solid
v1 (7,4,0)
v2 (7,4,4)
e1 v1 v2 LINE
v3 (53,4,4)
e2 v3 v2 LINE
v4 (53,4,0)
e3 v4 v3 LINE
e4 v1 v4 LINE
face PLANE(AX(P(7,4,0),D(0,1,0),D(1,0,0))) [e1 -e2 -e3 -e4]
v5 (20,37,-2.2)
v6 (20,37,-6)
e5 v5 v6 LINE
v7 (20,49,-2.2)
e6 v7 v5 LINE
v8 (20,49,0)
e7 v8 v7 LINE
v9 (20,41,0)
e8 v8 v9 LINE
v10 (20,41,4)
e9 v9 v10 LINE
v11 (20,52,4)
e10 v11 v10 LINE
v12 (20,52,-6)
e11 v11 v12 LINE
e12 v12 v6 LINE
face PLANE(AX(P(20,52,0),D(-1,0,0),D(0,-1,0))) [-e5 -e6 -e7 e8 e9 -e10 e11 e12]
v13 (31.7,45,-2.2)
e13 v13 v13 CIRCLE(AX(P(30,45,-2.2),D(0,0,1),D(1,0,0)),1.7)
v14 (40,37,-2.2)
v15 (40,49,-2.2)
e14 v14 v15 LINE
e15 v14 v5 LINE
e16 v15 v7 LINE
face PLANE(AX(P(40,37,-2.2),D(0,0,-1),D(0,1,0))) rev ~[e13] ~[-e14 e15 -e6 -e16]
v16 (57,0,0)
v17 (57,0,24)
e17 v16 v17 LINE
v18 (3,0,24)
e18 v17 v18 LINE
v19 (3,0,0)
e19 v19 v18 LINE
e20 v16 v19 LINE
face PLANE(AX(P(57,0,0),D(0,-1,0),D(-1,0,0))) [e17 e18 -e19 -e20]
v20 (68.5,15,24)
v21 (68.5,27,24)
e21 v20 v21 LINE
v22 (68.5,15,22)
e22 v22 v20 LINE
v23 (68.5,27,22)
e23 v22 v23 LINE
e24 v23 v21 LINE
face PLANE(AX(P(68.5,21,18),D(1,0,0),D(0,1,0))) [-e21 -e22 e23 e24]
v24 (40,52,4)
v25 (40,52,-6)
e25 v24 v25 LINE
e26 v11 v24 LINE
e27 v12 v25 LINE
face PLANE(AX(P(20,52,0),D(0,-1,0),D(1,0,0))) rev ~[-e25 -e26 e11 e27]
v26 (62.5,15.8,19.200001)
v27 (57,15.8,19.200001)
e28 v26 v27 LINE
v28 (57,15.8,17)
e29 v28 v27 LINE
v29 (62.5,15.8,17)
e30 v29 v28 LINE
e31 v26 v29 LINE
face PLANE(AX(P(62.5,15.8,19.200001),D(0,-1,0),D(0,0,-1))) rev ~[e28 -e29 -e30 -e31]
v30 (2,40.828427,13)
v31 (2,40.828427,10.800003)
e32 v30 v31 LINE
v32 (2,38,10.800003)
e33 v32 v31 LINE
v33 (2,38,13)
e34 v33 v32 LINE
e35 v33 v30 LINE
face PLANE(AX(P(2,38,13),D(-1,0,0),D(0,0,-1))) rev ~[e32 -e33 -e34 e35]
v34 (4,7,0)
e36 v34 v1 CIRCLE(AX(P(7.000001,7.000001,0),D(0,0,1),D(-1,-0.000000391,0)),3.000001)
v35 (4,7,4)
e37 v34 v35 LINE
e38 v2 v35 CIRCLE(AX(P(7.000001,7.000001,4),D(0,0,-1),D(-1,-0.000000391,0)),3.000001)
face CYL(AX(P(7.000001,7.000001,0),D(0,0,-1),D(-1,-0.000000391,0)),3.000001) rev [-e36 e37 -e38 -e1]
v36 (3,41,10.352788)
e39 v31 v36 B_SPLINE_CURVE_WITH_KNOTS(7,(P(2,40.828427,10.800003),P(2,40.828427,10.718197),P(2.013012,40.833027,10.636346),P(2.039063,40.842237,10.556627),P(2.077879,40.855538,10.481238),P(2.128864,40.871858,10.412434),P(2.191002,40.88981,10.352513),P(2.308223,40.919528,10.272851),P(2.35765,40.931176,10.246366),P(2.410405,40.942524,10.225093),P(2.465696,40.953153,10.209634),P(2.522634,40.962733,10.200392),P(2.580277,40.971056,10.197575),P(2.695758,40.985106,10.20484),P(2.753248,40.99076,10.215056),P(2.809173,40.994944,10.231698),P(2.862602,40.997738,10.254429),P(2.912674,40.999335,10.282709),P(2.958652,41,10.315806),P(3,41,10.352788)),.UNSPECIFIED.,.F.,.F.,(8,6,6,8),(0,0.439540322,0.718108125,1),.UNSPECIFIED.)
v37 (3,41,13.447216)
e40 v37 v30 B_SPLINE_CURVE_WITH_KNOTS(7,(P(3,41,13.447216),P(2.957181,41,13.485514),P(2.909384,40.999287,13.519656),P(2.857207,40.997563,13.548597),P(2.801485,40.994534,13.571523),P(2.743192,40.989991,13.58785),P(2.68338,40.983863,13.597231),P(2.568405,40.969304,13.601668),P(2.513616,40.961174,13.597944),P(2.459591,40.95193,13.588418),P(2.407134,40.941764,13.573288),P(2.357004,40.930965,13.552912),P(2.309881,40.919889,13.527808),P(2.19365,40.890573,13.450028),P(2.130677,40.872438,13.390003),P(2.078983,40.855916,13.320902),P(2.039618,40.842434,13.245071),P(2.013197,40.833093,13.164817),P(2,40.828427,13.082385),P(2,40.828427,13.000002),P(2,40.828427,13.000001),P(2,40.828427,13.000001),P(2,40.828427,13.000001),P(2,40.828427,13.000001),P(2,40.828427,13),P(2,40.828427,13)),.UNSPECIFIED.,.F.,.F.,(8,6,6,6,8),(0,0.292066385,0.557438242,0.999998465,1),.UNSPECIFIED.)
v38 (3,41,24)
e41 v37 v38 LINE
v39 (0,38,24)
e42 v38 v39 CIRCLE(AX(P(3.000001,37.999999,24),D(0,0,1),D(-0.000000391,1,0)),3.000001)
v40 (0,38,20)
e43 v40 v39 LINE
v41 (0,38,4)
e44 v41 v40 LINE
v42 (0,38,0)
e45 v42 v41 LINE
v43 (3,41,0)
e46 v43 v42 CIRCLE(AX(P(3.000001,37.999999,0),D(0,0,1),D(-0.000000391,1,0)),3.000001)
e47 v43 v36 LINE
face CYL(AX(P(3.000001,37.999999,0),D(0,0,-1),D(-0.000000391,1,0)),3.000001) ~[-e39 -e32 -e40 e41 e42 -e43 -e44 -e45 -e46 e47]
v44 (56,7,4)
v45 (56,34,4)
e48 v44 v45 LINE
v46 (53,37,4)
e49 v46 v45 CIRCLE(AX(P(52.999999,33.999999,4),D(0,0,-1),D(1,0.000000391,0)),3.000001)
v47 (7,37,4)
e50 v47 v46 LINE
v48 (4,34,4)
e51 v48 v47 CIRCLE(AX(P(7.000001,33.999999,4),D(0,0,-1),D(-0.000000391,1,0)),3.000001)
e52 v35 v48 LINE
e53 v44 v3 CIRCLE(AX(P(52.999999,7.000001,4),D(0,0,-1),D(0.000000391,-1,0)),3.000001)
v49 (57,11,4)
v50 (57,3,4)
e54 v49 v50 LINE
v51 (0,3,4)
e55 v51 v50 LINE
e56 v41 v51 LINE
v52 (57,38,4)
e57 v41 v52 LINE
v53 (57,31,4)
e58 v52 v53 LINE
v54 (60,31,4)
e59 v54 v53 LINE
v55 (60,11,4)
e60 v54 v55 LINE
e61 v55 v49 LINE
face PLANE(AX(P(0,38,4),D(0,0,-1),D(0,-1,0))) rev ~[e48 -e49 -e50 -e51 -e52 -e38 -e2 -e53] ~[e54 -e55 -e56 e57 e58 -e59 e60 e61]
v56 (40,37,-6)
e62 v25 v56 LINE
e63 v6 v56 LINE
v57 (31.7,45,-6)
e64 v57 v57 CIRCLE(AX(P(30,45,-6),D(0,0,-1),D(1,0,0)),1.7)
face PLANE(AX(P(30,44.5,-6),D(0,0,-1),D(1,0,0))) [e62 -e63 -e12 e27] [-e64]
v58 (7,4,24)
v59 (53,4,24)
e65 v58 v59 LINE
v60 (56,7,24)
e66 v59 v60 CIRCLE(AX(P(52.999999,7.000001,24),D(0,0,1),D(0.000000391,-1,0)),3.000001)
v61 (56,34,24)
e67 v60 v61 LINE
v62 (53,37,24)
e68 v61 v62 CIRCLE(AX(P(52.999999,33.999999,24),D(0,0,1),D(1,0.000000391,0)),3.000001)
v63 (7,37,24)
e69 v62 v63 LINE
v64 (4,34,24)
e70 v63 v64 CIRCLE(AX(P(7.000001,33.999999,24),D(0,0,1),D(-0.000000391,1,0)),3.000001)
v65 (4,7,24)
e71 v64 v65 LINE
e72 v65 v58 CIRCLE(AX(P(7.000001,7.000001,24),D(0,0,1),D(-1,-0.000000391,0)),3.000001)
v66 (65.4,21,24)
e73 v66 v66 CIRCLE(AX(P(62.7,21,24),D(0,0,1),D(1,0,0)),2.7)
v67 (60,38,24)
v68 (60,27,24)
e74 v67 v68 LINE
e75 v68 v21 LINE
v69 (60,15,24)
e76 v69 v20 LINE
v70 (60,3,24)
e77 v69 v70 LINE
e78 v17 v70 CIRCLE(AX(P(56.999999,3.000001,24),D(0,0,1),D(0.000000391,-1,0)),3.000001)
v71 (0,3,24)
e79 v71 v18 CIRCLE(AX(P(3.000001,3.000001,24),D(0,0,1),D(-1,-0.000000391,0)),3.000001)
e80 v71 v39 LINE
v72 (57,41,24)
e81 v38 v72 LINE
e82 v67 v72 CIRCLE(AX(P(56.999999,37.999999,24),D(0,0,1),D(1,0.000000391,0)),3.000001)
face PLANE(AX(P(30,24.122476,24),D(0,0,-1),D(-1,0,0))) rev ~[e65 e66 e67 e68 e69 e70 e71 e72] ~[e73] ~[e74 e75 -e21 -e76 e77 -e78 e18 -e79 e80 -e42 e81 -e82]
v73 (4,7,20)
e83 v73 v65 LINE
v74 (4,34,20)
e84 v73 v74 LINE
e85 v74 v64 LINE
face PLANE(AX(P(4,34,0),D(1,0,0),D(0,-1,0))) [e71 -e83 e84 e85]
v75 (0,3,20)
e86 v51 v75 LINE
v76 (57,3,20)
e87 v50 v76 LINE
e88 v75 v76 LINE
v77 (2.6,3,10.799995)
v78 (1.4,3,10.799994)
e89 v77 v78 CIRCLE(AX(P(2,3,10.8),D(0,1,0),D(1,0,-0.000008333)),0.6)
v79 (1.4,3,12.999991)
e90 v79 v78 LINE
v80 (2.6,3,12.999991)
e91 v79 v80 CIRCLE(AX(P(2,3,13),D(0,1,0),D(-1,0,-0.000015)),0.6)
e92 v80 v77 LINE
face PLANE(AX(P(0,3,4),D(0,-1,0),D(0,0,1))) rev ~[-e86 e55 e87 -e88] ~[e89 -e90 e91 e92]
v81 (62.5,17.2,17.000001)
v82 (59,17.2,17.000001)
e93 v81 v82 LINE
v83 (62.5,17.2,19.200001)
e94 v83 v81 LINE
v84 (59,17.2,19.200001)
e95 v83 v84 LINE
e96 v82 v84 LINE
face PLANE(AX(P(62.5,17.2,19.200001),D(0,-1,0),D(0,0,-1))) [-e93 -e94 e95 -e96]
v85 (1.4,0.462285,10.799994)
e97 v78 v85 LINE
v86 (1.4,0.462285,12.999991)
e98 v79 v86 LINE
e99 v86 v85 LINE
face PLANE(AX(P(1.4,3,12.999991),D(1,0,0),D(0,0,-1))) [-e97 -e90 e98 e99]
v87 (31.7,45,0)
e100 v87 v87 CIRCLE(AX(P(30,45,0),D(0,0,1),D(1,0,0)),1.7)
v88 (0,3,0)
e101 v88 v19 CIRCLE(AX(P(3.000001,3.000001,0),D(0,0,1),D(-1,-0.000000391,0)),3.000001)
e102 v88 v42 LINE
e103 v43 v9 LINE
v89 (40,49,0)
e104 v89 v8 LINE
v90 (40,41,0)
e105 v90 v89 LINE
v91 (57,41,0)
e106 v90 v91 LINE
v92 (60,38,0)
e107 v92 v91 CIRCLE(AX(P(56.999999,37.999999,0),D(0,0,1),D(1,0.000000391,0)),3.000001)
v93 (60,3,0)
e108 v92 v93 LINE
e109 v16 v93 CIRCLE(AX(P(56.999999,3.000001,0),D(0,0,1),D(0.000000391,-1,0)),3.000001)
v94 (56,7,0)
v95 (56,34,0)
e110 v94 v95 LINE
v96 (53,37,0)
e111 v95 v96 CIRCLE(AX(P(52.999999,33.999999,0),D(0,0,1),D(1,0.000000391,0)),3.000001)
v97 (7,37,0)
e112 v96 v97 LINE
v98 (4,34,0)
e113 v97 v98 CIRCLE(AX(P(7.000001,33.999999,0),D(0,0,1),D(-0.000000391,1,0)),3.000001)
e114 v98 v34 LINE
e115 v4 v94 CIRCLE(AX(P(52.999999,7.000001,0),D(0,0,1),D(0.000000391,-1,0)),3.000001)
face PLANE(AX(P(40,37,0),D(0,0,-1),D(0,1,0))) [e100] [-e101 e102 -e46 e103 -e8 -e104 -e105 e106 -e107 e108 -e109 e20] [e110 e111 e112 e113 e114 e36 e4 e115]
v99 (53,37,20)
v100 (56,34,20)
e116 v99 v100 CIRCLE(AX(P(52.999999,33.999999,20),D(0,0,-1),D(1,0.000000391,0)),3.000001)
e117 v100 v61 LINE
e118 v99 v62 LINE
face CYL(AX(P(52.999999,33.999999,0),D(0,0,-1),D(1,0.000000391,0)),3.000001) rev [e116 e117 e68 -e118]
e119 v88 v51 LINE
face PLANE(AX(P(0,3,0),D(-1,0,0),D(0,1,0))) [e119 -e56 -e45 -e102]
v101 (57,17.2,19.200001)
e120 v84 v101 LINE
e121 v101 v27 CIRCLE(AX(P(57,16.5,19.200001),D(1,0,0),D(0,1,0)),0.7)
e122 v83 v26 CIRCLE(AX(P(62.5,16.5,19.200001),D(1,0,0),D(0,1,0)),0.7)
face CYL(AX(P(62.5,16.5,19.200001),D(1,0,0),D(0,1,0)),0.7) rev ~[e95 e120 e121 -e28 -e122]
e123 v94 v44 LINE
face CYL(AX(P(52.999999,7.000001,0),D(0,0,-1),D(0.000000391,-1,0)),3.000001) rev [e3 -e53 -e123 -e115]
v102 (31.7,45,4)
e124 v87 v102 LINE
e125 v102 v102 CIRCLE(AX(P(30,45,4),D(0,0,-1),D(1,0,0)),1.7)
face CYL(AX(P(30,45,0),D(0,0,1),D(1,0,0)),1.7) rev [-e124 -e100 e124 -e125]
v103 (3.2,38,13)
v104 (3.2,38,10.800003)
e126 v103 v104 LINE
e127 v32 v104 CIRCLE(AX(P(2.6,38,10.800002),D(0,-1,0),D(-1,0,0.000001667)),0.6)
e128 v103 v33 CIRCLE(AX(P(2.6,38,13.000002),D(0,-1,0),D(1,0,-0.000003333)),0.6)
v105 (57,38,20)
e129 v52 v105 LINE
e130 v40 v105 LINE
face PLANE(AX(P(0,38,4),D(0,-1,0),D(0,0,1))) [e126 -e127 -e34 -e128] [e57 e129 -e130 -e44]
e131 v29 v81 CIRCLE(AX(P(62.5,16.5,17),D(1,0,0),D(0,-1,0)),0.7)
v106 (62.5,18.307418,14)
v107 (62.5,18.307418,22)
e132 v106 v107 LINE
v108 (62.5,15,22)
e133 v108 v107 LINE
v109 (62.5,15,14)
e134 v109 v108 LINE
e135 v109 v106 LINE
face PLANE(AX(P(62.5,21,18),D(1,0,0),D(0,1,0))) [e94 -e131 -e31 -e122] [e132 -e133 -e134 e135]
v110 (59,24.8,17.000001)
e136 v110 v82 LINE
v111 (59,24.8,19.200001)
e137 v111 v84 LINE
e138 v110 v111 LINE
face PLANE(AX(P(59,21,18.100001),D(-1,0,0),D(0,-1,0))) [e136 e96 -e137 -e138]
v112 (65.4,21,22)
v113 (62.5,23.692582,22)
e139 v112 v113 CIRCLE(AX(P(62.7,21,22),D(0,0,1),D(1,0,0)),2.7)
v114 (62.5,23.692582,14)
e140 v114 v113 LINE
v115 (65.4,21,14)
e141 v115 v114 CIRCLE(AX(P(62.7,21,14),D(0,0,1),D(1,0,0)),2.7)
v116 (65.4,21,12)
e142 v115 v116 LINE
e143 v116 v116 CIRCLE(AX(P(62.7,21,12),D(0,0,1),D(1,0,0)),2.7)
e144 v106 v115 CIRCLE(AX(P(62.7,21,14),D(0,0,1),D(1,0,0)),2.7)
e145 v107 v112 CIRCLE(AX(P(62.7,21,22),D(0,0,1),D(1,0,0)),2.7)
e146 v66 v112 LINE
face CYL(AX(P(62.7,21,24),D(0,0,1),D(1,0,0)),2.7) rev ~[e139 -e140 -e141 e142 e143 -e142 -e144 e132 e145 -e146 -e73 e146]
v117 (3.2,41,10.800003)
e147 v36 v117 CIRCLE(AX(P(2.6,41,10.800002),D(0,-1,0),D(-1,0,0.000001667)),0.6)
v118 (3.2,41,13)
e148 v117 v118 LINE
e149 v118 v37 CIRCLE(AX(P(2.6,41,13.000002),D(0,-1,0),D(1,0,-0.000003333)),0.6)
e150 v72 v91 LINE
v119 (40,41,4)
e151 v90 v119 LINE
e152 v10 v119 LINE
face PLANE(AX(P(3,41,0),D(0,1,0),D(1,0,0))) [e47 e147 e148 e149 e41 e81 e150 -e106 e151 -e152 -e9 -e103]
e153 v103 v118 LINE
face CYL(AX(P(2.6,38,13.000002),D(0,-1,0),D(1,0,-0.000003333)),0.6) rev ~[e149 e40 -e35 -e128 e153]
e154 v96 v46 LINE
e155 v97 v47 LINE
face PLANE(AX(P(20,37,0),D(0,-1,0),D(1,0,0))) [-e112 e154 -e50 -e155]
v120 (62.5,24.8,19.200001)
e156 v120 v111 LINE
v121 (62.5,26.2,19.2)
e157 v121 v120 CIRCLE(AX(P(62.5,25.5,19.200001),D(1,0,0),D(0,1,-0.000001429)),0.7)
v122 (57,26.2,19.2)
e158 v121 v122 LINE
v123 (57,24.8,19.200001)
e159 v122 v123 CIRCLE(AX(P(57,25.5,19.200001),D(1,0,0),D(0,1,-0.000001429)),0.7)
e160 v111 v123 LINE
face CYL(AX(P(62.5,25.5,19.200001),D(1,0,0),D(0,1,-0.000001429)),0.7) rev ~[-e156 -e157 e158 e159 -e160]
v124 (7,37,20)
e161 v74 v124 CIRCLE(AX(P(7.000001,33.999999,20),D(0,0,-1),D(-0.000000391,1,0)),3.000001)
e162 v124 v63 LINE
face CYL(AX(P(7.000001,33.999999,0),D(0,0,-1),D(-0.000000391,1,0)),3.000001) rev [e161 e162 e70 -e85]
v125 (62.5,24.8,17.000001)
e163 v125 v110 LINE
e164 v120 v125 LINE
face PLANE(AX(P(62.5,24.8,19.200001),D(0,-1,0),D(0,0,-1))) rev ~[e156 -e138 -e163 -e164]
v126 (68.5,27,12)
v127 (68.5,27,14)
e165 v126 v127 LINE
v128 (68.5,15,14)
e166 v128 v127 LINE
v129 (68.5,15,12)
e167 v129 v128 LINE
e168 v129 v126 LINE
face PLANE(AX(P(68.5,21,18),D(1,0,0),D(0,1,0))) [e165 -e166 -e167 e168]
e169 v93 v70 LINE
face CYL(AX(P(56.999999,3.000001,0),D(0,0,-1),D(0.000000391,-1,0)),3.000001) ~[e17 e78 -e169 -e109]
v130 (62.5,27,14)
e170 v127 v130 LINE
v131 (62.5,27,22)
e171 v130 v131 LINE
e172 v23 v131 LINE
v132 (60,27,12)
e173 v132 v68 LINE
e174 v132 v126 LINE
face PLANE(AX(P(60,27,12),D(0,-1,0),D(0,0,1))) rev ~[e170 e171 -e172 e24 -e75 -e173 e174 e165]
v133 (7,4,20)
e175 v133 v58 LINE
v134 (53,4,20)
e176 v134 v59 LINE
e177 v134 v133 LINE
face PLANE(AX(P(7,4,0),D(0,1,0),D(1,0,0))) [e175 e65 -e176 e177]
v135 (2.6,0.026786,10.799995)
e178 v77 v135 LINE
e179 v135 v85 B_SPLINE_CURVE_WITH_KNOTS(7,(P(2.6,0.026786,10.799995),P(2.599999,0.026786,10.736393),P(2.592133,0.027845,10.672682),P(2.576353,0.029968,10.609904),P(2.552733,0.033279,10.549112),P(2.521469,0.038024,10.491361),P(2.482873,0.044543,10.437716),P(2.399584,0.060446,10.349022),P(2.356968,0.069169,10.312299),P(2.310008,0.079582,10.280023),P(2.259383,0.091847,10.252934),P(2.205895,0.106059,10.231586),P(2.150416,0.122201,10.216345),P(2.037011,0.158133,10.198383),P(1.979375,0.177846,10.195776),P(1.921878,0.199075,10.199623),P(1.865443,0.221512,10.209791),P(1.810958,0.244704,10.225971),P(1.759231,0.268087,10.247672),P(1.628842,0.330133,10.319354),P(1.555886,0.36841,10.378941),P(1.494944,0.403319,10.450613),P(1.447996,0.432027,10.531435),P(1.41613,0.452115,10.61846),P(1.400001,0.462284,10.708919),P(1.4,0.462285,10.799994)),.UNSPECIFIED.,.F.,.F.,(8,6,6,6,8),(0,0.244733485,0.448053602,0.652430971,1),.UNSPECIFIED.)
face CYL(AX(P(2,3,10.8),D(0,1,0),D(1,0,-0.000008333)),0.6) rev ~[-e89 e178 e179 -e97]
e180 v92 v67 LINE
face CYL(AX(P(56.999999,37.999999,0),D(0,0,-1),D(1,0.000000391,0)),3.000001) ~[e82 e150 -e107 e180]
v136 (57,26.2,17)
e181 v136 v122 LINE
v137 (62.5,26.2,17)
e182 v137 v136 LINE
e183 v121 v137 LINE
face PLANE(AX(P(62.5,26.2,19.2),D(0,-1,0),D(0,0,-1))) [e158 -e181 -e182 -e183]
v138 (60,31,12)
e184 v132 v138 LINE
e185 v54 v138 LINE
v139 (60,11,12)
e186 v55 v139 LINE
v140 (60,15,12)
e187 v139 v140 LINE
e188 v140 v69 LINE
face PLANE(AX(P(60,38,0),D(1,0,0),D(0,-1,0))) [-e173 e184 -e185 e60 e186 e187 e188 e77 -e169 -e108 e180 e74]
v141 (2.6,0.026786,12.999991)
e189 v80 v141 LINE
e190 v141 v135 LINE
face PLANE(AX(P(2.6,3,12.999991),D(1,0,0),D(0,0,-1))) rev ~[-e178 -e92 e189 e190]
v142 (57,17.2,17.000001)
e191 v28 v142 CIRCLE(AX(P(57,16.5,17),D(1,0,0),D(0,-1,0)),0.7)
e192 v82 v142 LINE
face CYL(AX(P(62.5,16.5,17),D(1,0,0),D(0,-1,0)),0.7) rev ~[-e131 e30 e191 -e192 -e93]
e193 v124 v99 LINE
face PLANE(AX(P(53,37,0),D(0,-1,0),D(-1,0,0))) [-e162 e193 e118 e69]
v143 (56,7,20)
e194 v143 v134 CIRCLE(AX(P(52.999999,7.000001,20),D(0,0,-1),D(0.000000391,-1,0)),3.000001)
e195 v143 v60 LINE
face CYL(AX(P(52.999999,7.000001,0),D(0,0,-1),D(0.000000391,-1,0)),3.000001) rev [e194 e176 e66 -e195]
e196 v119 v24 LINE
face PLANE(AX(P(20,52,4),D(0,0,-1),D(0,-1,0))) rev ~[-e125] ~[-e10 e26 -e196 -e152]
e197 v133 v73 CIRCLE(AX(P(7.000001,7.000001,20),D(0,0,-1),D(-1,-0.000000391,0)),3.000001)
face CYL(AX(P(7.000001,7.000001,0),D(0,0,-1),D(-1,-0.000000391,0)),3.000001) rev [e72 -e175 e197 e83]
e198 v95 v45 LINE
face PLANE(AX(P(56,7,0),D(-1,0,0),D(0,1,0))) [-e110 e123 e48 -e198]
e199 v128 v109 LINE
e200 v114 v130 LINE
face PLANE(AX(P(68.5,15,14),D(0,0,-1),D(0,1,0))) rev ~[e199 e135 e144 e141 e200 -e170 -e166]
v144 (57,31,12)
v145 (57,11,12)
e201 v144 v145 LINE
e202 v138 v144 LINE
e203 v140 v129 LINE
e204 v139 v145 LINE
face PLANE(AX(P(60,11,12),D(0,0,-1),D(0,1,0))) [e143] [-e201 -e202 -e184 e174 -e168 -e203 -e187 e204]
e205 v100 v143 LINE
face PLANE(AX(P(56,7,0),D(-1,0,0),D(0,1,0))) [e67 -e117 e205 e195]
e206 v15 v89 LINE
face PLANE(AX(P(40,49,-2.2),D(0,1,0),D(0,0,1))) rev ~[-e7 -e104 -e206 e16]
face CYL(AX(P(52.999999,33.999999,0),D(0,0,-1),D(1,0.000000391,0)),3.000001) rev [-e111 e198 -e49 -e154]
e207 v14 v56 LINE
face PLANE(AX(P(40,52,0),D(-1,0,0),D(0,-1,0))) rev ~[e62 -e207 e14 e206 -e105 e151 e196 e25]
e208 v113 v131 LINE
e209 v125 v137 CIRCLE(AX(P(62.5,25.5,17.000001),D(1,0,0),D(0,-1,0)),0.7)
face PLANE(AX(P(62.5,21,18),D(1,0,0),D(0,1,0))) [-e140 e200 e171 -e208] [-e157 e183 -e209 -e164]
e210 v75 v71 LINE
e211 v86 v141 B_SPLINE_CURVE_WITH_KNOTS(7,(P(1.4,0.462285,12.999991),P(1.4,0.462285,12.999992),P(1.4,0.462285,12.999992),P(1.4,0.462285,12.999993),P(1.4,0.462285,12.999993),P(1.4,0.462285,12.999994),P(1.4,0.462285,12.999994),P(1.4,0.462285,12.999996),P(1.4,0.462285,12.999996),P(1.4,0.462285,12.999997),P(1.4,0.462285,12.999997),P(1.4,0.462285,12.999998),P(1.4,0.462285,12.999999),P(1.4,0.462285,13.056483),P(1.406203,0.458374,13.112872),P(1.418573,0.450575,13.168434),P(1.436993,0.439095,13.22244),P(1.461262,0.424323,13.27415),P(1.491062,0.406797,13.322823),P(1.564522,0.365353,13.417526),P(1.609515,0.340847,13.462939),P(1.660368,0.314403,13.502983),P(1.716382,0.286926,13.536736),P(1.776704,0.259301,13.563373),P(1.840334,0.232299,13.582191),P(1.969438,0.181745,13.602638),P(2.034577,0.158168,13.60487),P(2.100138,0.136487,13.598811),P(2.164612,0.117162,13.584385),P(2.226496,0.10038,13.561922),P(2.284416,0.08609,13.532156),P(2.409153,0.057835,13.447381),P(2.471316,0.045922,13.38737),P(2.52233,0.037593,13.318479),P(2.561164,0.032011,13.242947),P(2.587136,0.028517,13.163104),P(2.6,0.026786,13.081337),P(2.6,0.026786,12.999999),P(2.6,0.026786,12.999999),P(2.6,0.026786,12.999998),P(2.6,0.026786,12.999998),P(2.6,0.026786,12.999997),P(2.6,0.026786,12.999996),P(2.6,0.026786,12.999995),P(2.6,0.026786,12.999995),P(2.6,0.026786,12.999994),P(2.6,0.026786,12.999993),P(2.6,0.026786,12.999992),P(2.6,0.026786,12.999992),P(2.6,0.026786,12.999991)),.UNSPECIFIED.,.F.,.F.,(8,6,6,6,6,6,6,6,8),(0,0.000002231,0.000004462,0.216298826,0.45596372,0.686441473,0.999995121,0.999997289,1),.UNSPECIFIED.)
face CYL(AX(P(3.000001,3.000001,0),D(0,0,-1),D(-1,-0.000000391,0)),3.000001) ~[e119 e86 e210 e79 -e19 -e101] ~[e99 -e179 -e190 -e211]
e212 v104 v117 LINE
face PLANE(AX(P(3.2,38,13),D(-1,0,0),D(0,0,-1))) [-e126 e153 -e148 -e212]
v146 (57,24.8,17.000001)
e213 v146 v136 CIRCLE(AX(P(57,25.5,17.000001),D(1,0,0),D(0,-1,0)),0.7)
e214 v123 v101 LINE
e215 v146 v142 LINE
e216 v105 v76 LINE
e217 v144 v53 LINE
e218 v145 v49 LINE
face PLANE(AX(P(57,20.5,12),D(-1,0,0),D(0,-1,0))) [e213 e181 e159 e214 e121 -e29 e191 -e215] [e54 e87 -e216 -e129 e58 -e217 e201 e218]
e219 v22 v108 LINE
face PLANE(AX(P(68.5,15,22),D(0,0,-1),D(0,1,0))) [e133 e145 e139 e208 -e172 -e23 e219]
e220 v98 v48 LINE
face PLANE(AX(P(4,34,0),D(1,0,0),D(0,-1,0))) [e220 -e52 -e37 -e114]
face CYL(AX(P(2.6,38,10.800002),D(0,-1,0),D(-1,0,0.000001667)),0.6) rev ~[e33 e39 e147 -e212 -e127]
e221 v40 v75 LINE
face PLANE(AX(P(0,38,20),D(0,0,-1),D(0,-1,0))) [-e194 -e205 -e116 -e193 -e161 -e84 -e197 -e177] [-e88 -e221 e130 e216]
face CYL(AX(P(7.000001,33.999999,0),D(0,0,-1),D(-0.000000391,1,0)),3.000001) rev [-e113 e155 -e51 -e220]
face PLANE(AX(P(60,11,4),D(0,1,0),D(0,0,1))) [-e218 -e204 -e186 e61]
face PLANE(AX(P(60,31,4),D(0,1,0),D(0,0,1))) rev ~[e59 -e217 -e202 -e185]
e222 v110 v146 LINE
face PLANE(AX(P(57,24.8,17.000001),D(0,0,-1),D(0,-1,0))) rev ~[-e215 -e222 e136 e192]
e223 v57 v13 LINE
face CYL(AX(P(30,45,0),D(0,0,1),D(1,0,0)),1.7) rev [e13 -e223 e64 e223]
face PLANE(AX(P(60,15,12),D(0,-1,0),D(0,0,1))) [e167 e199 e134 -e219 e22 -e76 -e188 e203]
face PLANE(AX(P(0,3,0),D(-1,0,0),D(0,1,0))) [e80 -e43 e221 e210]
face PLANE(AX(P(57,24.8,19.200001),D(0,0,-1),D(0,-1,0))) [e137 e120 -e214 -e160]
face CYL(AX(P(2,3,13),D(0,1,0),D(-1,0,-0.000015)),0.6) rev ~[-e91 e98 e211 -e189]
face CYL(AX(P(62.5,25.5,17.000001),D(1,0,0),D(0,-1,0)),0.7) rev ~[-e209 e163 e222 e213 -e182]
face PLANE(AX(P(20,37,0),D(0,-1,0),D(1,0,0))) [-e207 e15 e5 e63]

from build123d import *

# Parameters (mm, degrees)
SKETCH_R        = 1.7
PAD_DEPTH       = 24
SKETCH001_W     = 35
SKETCH001_H     = 16
POCKET_DEPTH    = 57
SKETCH002_W     = 20
SKETCH002_H     = 8
POCKET001_DEPTH = 5
SKETCH003_W     = 11
SKETCH003_H     = 20
POCKET002_DEPTH = 40.001
SKETCH004_W     = 20
SKETCH004_H     = 15
SKETCH004_R     = 1.7
PAD001_DEPTH    = 6
SKETCH005_W     = 12
SKETCH005_H     = 2.2
POCKET003_DEPTH = 40.001
SKETCH006_W     = 12
SKETCH006_H     = 12
PAD002_DEPTH    = 8.5
SKETCH007_R     = 2.7
POCKET004_DEPTH = 30.001
SKETCH008_W     = 12
SKETCH008_H     = 8
POCKET005_DEPTH = 6
POCKET006_DEPTH = 10
SKETCH010_W     = 7.6
SKETCH010_H     = 2.2
POCKET007_DEPTH = 2
POCKET008_DEPTH = 3.001
POCKET009_DEPTH = 5


with BuildPart() as part:
    # Sketch → Pad (new body)
    with BuildSketch(Plane.XY):
        with BuildLine():
            Line((3, 41), (20, 41))
            Line((20, 41), (20, 52))
            Line((20, 52), (40, 52))
            Line((40, 52), (40, 41))
            Line((40, 41), (57, 41))
            ThreePointArc((60, 38), (59.12132, 40.12132), (57, 41))
            Line((60, 38), (60, 3))
            ThreePointArc((57, 0), (59.12132, 0.87868), (60, 3))
            Line((57, 0), (3, 0))
            ThreePointArc((0, 3), (0.87868, 0.87868), (3, 0))
            Line((0, 3), (0, 38))
            ThreePointArc((3, 41), (0.87868, 40.12132), (0, 38))
        make_face()
        with Locations((30, 45)):
            Circle(SKETCH_R, mode=Mode.SUBTRACT)
        with BuildLine():
            Line((7, 4), (53, 4))
            ThreePointArc((53, 4), (55.12132, 4.87868), (56, 7))
            Line((56, 7), (56, 34))
            ThreePointArc((56, 34), (55.12132, 36.12132), (53, 37))
            Line((53, 37), (7, 37))
            ThreePointArc((7, 37), (4.87868, 36.12132), (4, 34))
            Line((4, 34), (4, 7))
            ThreePointArc((4, 7), (4.87868, 4.87868), (7, 4))
        make_face(mode=Mode.SUBTRACT)
    extrude(amount=PAD_DEPTH)

    # Sketch001 → Pocket (cut)
    with BuildSketch(Plane(origin=(0, 0, 0), x_dir=(0, -1, 0), z_dir=(-1, 0, 0))):
        with Locations((-20.5, 12)):
            Rectangle(SKETCH001_W, SKETCH001_H)
    extrude(amount=-POCKET_DEPTH, mode=Mode.SUBTRACT)

    # Sketch002 → Pocket001 (cut)
    with BuildSketch(Plane.YZ.offset(60)):
        with Locations((21, 8)):
            Rectangle(SKETCH002_W, SKETCH002_H)
    extrude(amount=-POCKET001_DEPTH, mode=Mode.SUBTRACT)

    # Sketch003 → Pocket002 (cut, through all)
    with BuildSketch(Plane(origin=(20, 0, 0), x_dir=(0, -1, 0), z_dir=(-1, 0, 0))):
        with Locations((-46.5, 14)):
            Rectangle(SKETCH003_W, SKETCH003_H)
    extrude(amount=-POCKET002_DEPTH, mode=Mode.SUBTRACT)

    # Sketch004 → Pad001 (new body)
    with BuildSketch(Plane(origin=(0, 0, 0), x_dir=(1, 0, 0), z_dir=(0, 0, -1))):
        with Locations((30, -44.5)):
            Rectangle(SKETCH004_W, SKETCH004_H)
        with Locations((30, -45)):
            Circle(SKETCH004_R, mode=Mode.SUBTRACT)
    extrude(amount=PAD001_DEPTH)

    # Sketch005 → Pocket003 (cut, through all)
    with BuildSketch(Plane.YZ.offset(40)):
        with Locations((43, -1.1)):
            Rectangle(SKETCH005_W, SKETCH005_H)
    extrude(amount=-POCKET003_DEPTH, mode=Mode.SUBTRACT)

    # Sketch006 → Pad002 (new body)
    with BuildSketch(Plane.YZ.offset(60)):
        with Locations((21, 18)):
            Rectangle(SKETCH006_W, SKETCH006_H)
    extrude(amount=PAD002_DEPTH)

    # Sketch007 → Pocket004 (cut, through all)
    with BuildSketch(Plane.XY.offset(24)):
        with Locations((62.7, 21)):
            Circle(SKETCH007_R)
    extrude(amount=-POCKET004_DEPTH, mode=Mode.SUBTRACT)

    # Sketch008 → Pocket005 (cut)
    with BuildSketch(Plane.YZ.offset(68.5)):
        with Locations((21, 18)):
            Rectangle(SKETCH008_W, SKETCH008_H)
    extrude(amount=-POCKET005_DEPTH, mode=Mode.SUBTRACT)

    # Sketch009 → Pocket006 (cut)
    with BuildSketch(Plane.YZ.offset(62.5)):
        with BuildLine():
            ThreePointArc((17.2, 19.200001), (16.5, 19.900001), (15.8, 19.200001))
            Line((15.8, 19.200001), (15.8, 17))
            ThreePointArc((15.8, 17), (16.5, 16.3), (17.2, 17.000001))
            Line((17.2, 19.200001), (17.2, 17.000001))
        make_face()
        with BuildLine():
            ThreePointArc((26.2, 19.2), (25.5, 19.900001), (24.8, 19.200001))
            Line((24.8, 19.200001), (24.8, 17.000001))
            ThreePointArc((24.8, 17.000001), (25.5, 16.300001), (26.2, 17))
            Line((26.2, 19.2), (26.2, 17))
        make_face()
    extrude(amount=-POCKET006_DEPTH, mode=Mode.SUBTRACT)

    # Sketch010 → Pocket007 (cut)
    with BuildSketch(Plane(origin=(57, 0, 0), x_dir=(0, -1, 0), z_dir=(-1, 0, 0))):
        with Locations((-21, 18.100001)):
            Rectangle(SKETCH010_W, SKETCH010_H)
    extrude(amount=-POCKET007_DEPTH, mode=Mode.SUBTRACT)

    # Sketch011 → Pocket008 (cut, through all)
    with BuildSketch(Plane(origin=(0, 3, 0), x_dir=(-1, 0, 0), z_dir=(0, 1, 0))):
        with BuildLine():
            ThreePointArc((-1.4, 12.999991), (-2, 13.6), (-2.6, 12.999991))
            Line((-2.6, 12.999991), (-2.6, 10.799995))
            ThreePointArc((-2.6, 10.799995), (-2, 10.2), (-1.4, 10.799994))
            Line((-1.4, 12.999991), (-1.4, 10.799994))
        make_face()
    extrude(amount=-POCKET008_DEPTH, mode=Mode.SUBTRACT)

    # Sketch012 → Pocket009 (cut)
    with BuildSketch(Plane.XZ.offset(-38)):
        with BuildLine():
            ThreePointArc((3.2, 13), (2.6, 13.600002), (2, 13))
            Line((2, 13), (2, 10.800003))
            ThreePointArc((2, 10.800003), (2.6, 10.200002), (3.2, 10.800003))
            Line((3.2, 13), (3.2, 10.800003))
        make_face()
    extrude(amount=-POCKET009_DEPTH, mode=Mode.SUBTRACT)


solid = part.part
